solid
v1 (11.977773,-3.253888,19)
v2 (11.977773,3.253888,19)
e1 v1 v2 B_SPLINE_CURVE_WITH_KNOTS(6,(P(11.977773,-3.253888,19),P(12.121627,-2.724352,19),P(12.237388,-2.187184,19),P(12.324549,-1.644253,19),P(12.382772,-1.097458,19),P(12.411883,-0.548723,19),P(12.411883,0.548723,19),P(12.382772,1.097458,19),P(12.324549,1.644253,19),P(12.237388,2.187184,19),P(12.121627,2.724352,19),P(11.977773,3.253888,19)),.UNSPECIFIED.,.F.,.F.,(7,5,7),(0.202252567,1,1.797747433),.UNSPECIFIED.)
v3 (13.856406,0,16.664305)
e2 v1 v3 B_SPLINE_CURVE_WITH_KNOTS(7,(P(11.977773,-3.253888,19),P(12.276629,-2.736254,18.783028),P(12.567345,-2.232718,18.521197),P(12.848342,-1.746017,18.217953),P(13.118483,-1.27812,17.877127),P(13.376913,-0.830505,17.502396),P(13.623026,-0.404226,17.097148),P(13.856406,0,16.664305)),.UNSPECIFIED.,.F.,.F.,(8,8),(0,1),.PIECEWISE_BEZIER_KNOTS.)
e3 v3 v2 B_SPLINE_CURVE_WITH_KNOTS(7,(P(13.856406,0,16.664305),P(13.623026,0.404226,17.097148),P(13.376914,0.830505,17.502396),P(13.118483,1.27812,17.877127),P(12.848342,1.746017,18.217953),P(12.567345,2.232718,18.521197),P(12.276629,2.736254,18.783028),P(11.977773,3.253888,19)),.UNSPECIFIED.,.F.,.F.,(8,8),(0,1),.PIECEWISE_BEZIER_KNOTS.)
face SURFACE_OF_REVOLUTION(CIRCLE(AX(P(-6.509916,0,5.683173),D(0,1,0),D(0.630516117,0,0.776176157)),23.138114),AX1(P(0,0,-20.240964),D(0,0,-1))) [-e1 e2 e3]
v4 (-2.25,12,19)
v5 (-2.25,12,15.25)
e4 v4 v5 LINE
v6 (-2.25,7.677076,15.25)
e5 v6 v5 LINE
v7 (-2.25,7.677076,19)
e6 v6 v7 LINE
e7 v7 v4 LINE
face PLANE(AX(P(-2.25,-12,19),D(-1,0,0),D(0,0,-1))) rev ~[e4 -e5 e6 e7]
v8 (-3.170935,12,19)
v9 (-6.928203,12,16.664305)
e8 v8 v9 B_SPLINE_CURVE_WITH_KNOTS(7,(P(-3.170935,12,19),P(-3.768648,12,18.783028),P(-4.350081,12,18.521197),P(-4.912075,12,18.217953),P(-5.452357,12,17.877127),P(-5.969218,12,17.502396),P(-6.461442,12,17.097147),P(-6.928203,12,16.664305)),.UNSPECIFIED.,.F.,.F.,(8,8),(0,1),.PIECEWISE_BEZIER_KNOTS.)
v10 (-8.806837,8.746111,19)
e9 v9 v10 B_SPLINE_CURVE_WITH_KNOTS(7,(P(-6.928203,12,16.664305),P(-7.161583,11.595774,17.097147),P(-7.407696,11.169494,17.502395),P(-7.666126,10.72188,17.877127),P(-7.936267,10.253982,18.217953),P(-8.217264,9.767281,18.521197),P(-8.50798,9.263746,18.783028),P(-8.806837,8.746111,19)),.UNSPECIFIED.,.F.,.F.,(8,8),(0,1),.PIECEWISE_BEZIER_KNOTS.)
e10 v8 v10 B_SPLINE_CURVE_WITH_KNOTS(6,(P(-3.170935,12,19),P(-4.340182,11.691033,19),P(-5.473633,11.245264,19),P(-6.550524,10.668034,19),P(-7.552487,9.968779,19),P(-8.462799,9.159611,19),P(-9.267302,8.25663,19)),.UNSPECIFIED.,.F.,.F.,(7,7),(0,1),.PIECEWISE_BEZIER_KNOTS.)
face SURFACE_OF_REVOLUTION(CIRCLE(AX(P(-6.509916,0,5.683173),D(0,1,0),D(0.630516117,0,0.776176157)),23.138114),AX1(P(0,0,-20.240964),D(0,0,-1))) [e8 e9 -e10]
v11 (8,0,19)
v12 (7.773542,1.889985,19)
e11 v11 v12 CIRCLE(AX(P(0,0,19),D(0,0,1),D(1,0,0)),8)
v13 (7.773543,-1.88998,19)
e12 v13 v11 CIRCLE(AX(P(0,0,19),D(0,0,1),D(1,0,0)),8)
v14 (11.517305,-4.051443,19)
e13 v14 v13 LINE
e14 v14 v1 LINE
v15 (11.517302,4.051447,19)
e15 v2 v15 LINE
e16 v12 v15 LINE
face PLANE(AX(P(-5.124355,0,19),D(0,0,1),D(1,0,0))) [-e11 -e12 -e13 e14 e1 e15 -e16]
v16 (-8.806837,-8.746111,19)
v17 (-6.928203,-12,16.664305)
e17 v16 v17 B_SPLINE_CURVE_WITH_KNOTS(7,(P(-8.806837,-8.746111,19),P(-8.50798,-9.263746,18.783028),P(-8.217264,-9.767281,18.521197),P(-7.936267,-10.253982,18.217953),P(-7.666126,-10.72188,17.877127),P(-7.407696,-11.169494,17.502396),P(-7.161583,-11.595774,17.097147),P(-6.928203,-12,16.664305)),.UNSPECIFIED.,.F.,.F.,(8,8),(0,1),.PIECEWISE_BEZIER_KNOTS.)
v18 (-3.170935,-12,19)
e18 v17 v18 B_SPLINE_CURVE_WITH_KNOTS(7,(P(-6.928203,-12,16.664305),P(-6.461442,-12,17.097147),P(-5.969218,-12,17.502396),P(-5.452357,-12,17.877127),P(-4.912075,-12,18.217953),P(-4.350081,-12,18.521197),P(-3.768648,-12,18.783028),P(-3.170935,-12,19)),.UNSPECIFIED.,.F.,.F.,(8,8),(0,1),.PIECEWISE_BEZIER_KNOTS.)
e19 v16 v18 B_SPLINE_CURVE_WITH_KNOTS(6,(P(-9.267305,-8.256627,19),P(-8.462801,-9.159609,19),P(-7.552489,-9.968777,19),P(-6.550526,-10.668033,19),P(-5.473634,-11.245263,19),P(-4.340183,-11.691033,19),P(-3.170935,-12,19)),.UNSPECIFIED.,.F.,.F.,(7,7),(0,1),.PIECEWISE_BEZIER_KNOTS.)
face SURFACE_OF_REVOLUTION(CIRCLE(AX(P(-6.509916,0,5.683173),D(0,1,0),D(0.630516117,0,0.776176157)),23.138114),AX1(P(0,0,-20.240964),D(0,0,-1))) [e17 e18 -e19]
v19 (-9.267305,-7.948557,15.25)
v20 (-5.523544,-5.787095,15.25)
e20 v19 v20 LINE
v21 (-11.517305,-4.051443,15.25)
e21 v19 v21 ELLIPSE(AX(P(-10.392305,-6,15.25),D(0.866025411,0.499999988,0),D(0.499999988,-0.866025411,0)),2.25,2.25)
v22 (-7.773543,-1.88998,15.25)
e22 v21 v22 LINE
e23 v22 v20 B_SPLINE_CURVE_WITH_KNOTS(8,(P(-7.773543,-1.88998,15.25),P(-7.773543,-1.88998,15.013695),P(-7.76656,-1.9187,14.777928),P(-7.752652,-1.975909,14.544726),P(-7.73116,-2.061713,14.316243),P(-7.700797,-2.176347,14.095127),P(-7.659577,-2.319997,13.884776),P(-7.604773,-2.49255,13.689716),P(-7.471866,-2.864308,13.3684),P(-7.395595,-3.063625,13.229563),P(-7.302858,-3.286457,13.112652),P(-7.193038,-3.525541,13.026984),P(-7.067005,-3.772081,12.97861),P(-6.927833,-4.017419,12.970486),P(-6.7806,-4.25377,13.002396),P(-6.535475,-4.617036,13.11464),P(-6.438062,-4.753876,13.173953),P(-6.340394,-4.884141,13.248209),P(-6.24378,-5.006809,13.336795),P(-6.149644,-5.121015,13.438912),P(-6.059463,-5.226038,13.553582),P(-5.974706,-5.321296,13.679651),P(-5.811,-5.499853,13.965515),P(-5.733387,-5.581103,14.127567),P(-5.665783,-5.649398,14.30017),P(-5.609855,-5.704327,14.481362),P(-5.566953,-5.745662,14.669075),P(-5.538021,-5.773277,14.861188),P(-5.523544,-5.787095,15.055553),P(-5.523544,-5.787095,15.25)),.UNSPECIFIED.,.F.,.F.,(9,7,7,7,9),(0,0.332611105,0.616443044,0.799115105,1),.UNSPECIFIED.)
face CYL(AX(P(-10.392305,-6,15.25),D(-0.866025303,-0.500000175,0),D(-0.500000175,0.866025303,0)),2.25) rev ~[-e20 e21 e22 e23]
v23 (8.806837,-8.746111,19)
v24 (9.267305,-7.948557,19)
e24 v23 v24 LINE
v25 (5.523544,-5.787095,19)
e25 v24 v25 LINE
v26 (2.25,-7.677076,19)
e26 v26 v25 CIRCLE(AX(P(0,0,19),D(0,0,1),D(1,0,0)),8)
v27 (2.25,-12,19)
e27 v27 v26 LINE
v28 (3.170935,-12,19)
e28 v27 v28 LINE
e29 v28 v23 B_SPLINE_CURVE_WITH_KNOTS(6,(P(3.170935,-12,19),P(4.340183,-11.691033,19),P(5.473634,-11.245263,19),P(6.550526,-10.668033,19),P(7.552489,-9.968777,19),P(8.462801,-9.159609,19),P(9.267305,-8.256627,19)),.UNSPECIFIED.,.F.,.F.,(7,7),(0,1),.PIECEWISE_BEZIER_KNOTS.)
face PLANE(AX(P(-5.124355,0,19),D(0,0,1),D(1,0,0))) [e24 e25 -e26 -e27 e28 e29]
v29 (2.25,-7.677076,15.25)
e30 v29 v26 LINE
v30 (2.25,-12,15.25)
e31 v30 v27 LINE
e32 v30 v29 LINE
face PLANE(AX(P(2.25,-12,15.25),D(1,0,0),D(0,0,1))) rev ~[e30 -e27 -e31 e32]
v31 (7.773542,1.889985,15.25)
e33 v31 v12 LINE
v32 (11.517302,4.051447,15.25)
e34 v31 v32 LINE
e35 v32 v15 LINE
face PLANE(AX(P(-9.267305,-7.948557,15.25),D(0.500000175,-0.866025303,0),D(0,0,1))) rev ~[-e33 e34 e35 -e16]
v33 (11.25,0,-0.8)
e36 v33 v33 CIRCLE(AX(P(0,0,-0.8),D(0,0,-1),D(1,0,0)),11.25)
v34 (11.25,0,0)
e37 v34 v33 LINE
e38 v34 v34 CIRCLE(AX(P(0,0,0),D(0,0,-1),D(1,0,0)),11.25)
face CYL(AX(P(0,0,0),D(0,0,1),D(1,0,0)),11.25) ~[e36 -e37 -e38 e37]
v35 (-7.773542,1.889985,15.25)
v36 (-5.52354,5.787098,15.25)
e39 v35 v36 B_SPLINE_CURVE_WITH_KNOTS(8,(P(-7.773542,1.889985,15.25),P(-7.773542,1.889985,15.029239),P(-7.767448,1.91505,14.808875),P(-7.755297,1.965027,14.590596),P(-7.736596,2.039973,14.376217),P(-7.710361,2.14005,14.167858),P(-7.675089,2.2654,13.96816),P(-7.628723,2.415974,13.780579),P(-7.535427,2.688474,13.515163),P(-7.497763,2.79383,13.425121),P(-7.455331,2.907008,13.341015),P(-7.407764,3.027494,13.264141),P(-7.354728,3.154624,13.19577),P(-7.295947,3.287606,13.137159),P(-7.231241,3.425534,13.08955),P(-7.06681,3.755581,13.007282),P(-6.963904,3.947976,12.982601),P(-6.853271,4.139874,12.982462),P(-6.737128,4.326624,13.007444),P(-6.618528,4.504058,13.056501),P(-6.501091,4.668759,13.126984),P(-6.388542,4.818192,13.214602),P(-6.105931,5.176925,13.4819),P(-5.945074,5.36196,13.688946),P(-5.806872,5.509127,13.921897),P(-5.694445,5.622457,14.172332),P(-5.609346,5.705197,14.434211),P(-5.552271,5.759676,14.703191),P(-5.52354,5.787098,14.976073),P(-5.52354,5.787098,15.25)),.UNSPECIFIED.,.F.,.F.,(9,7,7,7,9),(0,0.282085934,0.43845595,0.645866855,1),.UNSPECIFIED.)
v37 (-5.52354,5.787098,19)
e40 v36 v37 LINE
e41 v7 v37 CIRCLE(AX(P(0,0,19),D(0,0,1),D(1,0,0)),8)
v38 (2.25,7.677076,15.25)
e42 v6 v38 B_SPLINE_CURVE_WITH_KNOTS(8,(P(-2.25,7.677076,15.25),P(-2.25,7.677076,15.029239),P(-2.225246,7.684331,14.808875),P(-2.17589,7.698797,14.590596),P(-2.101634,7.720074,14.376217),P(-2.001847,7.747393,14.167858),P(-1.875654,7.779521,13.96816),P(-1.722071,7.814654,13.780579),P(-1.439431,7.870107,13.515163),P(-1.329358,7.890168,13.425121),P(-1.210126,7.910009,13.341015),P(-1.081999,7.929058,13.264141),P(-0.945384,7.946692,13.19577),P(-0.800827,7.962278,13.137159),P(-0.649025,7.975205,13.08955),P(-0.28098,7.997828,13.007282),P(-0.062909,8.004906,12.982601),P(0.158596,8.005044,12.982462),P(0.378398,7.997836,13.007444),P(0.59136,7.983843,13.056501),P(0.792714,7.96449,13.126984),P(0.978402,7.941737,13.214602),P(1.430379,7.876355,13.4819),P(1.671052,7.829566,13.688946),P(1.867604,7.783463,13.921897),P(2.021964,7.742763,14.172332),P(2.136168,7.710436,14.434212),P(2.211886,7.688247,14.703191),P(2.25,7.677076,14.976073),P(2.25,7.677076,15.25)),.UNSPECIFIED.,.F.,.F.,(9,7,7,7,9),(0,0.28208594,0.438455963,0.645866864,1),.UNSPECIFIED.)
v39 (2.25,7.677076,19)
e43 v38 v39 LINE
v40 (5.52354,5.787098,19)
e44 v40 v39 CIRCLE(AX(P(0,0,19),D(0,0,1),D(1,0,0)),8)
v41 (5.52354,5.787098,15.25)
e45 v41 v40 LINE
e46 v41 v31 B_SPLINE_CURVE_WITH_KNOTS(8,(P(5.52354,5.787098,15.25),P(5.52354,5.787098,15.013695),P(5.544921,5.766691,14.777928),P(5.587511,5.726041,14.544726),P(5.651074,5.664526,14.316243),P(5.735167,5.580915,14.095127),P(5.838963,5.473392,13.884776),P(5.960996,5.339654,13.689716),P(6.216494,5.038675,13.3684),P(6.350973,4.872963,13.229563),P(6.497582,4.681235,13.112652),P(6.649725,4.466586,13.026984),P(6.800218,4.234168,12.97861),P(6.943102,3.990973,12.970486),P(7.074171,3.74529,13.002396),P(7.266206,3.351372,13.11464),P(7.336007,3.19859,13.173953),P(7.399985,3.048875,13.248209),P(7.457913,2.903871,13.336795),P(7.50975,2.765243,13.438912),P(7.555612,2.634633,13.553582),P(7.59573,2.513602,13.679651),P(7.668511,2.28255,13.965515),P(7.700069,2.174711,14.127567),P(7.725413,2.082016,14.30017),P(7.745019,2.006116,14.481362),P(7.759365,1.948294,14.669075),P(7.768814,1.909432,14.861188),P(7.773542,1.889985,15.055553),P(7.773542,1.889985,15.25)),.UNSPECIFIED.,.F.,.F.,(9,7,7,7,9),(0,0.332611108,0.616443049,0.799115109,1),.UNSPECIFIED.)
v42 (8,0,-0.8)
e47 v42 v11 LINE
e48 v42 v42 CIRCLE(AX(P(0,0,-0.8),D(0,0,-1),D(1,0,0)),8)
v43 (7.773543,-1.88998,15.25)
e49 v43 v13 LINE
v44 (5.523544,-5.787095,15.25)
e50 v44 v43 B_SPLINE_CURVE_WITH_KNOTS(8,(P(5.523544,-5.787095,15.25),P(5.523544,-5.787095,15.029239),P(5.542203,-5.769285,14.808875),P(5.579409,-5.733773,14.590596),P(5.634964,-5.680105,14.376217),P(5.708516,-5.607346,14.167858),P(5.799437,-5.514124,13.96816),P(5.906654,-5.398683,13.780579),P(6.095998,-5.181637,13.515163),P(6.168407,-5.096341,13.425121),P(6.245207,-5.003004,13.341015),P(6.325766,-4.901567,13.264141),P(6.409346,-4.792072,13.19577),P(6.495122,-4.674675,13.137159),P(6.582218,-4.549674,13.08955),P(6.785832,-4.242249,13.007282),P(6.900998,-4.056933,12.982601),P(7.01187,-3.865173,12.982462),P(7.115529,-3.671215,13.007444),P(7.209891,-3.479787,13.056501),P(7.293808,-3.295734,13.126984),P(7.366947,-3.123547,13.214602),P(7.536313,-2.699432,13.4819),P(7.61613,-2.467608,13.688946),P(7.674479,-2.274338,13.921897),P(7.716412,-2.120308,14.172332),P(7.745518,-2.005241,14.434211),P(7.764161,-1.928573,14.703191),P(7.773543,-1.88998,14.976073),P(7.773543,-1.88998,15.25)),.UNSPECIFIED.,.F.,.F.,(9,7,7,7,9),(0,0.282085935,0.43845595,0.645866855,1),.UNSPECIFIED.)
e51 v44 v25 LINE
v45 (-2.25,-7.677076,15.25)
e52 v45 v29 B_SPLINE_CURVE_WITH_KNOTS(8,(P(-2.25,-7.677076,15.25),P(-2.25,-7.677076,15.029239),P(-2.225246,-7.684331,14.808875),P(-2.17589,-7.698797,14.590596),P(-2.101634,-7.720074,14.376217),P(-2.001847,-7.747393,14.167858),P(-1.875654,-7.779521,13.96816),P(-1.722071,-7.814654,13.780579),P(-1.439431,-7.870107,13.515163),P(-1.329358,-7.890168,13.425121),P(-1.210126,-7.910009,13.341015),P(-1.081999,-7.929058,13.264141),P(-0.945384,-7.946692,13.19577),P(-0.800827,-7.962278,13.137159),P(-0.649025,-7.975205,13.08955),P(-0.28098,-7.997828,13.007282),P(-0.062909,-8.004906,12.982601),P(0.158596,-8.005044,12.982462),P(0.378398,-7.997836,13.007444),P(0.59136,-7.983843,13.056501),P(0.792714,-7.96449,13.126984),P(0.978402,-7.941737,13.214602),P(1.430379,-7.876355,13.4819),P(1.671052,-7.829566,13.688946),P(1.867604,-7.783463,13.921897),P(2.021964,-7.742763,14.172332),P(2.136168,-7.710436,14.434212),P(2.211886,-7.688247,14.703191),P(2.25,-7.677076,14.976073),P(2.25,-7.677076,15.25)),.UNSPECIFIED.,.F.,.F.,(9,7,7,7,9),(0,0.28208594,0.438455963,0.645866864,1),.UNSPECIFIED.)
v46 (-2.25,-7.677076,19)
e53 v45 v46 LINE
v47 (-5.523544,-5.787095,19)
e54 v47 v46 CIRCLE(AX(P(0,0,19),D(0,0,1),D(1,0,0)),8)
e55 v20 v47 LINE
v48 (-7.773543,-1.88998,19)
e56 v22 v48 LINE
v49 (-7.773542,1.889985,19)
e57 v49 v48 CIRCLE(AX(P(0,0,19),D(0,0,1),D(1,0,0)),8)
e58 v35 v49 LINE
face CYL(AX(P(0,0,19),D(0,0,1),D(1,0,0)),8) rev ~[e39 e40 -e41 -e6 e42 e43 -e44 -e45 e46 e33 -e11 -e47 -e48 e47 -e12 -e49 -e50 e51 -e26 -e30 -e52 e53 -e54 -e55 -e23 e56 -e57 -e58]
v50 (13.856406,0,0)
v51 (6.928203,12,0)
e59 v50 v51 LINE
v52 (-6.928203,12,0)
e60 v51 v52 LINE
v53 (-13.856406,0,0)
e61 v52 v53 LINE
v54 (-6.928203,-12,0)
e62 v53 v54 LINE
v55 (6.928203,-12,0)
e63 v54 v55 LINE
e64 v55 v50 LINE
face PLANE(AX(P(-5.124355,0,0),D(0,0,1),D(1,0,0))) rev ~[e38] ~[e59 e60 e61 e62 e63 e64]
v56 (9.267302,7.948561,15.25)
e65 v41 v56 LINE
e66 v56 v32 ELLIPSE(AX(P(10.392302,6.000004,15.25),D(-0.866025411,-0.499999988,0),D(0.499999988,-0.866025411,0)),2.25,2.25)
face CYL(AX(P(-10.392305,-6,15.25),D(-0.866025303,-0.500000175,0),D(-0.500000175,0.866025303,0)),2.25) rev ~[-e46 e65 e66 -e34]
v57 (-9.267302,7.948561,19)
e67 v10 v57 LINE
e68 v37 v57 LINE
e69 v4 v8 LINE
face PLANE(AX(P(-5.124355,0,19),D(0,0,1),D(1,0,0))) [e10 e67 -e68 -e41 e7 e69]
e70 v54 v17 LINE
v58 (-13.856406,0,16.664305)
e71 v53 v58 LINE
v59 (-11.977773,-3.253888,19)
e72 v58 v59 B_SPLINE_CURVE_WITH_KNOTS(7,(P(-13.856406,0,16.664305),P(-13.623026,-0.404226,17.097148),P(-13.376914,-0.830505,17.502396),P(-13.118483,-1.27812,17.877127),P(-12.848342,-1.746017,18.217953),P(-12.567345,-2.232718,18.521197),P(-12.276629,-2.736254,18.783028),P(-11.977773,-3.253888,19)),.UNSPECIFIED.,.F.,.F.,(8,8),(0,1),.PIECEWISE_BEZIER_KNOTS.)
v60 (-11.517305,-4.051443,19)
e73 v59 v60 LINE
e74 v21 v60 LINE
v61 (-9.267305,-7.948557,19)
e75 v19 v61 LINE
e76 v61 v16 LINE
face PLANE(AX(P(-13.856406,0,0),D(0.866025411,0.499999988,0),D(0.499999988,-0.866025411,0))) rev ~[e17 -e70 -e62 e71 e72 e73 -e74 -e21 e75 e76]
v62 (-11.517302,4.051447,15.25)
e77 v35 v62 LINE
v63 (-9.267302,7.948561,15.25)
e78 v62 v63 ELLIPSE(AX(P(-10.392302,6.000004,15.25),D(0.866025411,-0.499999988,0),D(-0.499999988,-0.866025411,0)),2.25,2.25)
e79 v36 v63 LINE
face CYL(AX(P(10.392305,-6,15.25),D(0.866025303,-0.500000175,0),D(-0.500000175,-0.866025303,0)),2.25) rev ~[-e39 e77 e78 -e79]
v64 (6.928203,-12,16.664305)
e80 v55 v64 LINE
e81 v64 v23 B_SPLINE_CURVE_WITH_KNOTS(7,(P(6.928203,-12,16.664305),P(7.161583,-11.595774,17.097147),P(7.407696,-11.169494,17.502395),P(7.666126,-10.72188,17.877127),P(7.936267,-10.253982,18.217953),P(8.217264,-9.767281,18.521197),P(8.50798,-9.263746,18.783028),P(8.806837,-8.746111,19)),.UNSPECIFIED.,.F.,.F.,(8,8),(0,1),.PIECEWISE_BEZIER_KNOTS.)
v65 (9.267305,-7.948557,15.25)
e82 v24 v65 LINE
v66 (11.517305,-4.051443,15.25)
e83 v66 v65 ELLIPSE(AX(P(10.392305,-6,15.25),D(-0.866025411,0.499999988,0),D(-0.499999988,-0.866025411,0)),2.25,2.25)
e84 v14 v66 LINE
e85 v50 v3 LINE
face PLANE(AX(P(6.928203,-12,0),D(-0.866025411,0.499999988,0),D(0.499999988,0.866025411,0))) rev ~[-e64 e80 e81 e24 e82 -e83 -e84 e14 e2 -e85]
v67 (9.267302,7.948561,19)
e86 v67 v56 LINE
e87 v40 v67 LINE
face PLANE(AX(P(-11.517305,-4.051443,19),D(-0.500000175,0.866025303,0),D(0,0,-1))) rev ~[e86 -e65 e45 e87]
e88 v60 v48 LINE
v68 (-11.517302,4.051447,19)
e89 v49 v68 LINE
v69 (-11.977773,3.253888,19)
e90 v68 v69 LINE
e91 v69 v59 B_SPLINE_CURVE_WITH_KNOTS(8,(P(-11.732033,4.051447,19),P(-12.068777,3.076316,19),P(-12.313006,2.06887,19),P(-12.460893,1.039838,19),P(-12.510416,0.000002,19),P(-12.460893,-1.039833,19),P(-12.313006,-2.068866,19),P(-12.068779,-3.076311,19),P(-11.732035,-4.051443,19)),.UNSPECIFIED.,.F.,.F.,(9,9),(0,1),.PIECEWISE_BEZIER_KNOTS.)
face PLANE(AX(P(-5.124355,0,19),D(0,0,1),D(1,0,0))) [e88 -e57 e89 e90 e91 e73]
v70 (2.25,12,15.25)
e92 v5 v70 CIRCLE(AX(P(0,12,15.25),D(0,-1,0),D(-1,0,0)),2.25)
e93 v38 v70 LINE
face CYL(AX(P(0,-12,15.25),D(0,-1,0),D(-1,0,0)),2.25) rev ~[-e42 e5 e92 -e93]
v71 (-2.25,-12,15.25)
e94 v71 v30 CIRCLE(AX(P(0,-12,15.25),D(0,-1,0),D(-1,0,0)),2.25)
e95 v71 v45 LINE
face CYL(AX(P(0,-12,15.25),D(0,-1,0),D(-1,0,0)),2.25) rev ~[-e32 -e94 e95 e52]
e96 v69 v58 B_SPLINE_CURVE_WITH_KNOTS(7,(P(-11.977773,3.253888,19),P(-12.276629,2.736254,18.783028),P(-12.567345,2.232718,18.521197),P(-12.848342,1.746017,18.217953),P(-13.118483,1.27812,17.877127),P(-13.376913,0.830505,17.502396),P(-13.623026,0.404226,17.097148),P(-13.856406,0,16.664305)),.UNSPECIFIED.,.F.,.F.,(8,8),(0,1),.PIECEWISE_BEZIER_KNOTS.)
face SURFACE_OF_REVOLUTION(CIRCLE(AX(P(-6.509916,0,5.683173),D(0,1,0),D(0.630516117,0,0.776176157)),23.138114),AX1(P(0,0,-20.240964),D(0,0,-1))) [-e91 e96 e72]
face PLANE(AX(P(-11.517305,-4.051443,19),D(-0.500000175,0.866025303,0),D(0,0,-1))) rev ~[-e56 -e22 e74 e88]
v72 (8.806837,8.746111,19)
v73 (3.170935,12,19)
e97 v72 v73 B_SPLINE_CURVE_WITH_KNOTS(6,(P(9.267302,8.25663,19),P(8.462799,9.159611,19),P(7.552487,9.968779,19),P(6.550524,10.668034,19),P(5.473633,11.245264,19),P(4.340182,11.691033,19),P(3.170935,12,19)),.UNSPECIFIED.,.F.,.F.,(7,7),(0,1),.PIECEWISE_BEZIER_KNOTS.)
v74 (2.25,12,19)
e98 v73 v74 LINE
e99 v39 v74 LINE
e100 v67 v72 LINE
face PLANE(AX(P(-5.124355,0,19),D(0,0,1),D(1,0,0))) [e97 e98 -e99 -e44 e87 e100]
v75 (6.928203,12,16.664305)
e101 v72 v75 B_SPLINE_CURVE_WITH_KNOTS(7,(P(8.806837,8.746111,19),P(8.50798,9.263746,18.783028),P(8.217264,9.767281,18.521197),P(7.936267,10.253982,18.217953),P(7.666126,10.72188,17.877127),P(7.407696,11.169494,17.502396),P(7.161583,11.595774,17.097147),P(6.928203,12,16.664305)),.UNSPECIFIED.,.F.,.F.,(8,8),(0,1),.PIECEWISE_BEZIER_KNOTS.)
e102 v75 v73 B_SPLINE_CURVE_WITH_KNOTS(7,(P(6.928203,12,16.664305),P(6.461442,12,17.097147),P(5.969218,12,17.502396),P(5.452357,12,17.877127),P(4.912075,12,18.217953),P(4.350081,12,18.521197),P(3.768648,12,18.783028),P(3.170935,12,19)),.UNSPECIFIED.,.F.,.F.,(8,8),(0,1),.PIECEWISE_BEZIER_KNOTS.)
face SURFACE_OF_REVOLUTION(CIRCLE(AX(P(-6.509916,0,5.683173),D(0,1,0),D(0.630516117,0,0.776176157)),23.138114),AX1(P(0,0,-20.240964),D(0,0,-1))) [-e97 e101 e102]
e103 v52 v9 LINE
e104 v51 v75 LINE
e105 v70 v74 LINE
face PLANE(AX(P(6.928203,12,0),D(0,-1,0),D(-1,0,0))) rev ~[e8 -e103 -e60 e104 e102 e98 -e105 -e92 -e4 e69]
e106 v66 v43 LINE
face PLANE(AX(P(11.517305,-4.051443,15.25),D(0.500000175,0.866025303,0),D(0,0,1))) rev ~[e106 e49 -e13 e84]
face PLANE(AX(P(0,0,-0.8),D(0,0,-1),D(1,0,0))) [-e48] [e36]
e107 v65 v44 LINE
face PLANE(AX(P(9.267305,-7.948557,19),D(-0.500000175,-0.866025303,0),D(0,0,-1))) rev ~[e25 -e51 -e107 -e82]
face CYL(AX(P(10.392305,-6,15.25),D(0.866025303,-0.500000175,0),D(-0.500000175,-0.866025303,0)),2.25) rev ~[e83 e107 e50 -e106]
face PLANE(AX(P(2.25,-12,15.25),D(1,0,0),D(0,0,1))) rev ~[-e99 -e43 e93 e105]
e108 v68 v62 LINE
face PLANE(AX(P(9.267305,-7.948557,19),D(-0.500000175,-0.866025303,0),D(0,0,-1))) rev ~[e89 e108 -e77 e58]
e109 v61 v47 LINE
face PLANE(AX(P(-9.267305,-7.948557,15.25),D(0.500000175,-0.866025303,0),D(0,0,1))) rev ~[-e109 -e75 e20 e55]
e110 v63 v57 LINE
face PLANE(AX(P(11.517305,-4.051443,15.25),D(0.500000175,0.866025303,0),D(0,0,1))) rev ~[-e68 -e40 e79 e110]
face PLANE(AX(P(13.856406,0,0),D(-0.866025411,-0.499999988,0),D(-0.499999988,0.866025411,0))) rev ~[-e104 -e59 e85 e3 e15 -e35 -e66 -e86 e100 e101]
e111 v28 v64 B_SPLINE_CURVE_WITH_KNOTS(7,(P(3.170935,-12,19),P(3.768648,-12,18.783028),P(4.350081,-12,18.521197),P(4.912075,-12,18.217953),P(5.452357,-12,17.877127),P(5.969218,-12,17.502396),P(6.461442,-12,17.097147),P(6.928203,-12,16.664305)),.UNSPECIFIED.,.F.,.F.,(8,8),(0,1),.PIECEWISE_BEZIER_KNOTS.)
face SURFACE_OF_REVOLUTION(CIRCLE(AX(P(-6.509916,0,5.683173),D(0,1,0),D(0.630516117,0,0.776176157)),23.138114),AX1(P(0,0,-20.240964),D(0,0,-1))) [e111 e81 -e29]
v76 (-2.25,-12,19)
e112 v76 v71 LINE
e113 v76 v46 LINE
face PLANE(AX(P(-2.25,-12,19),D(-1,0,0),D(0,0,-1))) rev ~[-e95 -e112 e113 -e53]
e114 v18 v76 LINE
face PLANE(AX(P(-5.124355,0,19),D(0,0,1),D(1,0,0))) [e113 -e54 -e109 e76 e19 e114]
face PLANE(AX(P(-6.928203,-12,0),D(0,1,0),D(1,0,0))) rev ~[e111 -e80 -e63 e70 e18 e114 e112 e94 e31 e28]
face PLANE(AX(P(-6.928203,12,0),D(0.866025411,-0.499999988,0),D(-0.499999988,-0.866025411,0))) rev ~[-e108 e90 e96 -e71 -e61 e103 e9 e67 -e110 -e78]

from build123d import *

# Parameters (mm, degrees)
F1_DEPTH  = 19
F2_R      = 11.25
F3_DEPTH  = 0.8
F4_R      = 8
F5_DEPTH  = 17
F7_DEPTH  = 25
F9_DEPTH  = 25
F11_DEPTH = 30.05913
F14_R     = 8
F15_DEPTH = 25


with BuildPart() as f1:
    # F0 (on Top) → F1 (new body)
    with BuildSketch(Plane.XY):
        Polygon((0, -12), (0, 0), (0, 12), (-6.928203, 12), (-13.856406, 0), (-6.928203, -12), align=None)
        Polygon((0, 12), (0, 0), (0, -12), (6.928203, -12), (13.856406, 0), (6.928203, 12), align=None)
    extrude(amount=F1_DEPTH)

    # F2 (on face) → F3 (join)
    with BuildSketch(Plane(origin=(0, 0, 0), x_dir=(1, 0, 0), z_dir=(0, 0, -1))):
        Circle(F2_R)
    extrude(amount=F3_DEPTH)

    # F4 (on face) → F5 (cut)
    with BuildSketch(Plane.XY.offset(19)):
        Circle(F4_R)
    extrude(amount=-F5_DEPTH, mode=Mode.SUBTRACT)

    # F6 (on face) → F7 (cut)
    with BuildSketch(Plane(origin=(10.392305, -6, 0), x_dir=(0.5, 0.866025, 0), z_dir=(0.866025, -0.5, 0))):
        with BuildLine():
            Line((0, 19), (-2.25, 19))
            Line((-2.25, 19), (-2.25, 15.25))
            ThreePointArc((-2.25, 15.25), (0, 13), (2.25, 15.25))
            Line((2.25, 15.25), (2.25, 19))
            Line((2.25, 19), (0, 19))
        make_face()
    extrude(amount=-F7_DEPTH, mode=Mode.SUBTRACT)

    # F8 (on face) → F9 (cut)
    with BuildSketch(Plane(origin=(-10.392305, -6, 0), x_dir=(0.5, -0.866025, 0), z_dir=(-0.866025, -0.5, 0))):
        with BuildLine():
            Line((2.25, 19), (0, 19))
            Line((0, 19), (-2.25, 19))
            Line((-2.25, 19), (-2.25, 15.25))
            ThreePointArc((-2.25, 15.25), (0, 13), (2.25, 15.25))
            Line((2.25, 15.25), (2.25, 19))
        make_face()
    extrude(amount=-F9_DEPTH, mode=Mode.SUBTRACT)

    # F10 (on face) → F11 (cut)
    with BuildSketch(Plane.XZ.offset(12)):
        with BuildLine():
            ThreePointArc((-2.25, 15.25), (0, 13), (2.25, 15.25))
            Line((2.25, 15.25), (2.25, 19))
            Line((2.25, 19), (0, 19))
            Line((0, 19), (-2.25, 19))
            Line((-2.25, 19), (-2.25, 15.25))
        make_face()
    extrude(amount=-F11_DEPTH, mode=Mode.SUBTRACT)

    # F12 (on Front) → F13 (revolve, cut)
    with BuildSketch(Plane.XZ):
        with BuildLine():
            ThreePointArc((8.079038, 23.642426), (13.284742, 17.664152), (16.167056, 10.279615))
            Line((16.167056, 10.279615), (18.863061, 27.862262))
            Line((18.863061, 27.862262), (8.079038, 23.642426))
        make_face()
    revolve(axis=Axis((0, 0, -20.240964), (0, 0, -1)), mode=Mode.SUBTRACT)

    # F14 (on face) → F15 (cut)
    with BuildSketch(Plane(origin=(0, 0, -0.8), x_dir=(1, 0, 0), z_dir=(0, 0, -1))):
        Circle(F14_R)
    extrude(amount=-F15_DEPTH, mode=Mode.SUBTRACT)


solid = f1.part
